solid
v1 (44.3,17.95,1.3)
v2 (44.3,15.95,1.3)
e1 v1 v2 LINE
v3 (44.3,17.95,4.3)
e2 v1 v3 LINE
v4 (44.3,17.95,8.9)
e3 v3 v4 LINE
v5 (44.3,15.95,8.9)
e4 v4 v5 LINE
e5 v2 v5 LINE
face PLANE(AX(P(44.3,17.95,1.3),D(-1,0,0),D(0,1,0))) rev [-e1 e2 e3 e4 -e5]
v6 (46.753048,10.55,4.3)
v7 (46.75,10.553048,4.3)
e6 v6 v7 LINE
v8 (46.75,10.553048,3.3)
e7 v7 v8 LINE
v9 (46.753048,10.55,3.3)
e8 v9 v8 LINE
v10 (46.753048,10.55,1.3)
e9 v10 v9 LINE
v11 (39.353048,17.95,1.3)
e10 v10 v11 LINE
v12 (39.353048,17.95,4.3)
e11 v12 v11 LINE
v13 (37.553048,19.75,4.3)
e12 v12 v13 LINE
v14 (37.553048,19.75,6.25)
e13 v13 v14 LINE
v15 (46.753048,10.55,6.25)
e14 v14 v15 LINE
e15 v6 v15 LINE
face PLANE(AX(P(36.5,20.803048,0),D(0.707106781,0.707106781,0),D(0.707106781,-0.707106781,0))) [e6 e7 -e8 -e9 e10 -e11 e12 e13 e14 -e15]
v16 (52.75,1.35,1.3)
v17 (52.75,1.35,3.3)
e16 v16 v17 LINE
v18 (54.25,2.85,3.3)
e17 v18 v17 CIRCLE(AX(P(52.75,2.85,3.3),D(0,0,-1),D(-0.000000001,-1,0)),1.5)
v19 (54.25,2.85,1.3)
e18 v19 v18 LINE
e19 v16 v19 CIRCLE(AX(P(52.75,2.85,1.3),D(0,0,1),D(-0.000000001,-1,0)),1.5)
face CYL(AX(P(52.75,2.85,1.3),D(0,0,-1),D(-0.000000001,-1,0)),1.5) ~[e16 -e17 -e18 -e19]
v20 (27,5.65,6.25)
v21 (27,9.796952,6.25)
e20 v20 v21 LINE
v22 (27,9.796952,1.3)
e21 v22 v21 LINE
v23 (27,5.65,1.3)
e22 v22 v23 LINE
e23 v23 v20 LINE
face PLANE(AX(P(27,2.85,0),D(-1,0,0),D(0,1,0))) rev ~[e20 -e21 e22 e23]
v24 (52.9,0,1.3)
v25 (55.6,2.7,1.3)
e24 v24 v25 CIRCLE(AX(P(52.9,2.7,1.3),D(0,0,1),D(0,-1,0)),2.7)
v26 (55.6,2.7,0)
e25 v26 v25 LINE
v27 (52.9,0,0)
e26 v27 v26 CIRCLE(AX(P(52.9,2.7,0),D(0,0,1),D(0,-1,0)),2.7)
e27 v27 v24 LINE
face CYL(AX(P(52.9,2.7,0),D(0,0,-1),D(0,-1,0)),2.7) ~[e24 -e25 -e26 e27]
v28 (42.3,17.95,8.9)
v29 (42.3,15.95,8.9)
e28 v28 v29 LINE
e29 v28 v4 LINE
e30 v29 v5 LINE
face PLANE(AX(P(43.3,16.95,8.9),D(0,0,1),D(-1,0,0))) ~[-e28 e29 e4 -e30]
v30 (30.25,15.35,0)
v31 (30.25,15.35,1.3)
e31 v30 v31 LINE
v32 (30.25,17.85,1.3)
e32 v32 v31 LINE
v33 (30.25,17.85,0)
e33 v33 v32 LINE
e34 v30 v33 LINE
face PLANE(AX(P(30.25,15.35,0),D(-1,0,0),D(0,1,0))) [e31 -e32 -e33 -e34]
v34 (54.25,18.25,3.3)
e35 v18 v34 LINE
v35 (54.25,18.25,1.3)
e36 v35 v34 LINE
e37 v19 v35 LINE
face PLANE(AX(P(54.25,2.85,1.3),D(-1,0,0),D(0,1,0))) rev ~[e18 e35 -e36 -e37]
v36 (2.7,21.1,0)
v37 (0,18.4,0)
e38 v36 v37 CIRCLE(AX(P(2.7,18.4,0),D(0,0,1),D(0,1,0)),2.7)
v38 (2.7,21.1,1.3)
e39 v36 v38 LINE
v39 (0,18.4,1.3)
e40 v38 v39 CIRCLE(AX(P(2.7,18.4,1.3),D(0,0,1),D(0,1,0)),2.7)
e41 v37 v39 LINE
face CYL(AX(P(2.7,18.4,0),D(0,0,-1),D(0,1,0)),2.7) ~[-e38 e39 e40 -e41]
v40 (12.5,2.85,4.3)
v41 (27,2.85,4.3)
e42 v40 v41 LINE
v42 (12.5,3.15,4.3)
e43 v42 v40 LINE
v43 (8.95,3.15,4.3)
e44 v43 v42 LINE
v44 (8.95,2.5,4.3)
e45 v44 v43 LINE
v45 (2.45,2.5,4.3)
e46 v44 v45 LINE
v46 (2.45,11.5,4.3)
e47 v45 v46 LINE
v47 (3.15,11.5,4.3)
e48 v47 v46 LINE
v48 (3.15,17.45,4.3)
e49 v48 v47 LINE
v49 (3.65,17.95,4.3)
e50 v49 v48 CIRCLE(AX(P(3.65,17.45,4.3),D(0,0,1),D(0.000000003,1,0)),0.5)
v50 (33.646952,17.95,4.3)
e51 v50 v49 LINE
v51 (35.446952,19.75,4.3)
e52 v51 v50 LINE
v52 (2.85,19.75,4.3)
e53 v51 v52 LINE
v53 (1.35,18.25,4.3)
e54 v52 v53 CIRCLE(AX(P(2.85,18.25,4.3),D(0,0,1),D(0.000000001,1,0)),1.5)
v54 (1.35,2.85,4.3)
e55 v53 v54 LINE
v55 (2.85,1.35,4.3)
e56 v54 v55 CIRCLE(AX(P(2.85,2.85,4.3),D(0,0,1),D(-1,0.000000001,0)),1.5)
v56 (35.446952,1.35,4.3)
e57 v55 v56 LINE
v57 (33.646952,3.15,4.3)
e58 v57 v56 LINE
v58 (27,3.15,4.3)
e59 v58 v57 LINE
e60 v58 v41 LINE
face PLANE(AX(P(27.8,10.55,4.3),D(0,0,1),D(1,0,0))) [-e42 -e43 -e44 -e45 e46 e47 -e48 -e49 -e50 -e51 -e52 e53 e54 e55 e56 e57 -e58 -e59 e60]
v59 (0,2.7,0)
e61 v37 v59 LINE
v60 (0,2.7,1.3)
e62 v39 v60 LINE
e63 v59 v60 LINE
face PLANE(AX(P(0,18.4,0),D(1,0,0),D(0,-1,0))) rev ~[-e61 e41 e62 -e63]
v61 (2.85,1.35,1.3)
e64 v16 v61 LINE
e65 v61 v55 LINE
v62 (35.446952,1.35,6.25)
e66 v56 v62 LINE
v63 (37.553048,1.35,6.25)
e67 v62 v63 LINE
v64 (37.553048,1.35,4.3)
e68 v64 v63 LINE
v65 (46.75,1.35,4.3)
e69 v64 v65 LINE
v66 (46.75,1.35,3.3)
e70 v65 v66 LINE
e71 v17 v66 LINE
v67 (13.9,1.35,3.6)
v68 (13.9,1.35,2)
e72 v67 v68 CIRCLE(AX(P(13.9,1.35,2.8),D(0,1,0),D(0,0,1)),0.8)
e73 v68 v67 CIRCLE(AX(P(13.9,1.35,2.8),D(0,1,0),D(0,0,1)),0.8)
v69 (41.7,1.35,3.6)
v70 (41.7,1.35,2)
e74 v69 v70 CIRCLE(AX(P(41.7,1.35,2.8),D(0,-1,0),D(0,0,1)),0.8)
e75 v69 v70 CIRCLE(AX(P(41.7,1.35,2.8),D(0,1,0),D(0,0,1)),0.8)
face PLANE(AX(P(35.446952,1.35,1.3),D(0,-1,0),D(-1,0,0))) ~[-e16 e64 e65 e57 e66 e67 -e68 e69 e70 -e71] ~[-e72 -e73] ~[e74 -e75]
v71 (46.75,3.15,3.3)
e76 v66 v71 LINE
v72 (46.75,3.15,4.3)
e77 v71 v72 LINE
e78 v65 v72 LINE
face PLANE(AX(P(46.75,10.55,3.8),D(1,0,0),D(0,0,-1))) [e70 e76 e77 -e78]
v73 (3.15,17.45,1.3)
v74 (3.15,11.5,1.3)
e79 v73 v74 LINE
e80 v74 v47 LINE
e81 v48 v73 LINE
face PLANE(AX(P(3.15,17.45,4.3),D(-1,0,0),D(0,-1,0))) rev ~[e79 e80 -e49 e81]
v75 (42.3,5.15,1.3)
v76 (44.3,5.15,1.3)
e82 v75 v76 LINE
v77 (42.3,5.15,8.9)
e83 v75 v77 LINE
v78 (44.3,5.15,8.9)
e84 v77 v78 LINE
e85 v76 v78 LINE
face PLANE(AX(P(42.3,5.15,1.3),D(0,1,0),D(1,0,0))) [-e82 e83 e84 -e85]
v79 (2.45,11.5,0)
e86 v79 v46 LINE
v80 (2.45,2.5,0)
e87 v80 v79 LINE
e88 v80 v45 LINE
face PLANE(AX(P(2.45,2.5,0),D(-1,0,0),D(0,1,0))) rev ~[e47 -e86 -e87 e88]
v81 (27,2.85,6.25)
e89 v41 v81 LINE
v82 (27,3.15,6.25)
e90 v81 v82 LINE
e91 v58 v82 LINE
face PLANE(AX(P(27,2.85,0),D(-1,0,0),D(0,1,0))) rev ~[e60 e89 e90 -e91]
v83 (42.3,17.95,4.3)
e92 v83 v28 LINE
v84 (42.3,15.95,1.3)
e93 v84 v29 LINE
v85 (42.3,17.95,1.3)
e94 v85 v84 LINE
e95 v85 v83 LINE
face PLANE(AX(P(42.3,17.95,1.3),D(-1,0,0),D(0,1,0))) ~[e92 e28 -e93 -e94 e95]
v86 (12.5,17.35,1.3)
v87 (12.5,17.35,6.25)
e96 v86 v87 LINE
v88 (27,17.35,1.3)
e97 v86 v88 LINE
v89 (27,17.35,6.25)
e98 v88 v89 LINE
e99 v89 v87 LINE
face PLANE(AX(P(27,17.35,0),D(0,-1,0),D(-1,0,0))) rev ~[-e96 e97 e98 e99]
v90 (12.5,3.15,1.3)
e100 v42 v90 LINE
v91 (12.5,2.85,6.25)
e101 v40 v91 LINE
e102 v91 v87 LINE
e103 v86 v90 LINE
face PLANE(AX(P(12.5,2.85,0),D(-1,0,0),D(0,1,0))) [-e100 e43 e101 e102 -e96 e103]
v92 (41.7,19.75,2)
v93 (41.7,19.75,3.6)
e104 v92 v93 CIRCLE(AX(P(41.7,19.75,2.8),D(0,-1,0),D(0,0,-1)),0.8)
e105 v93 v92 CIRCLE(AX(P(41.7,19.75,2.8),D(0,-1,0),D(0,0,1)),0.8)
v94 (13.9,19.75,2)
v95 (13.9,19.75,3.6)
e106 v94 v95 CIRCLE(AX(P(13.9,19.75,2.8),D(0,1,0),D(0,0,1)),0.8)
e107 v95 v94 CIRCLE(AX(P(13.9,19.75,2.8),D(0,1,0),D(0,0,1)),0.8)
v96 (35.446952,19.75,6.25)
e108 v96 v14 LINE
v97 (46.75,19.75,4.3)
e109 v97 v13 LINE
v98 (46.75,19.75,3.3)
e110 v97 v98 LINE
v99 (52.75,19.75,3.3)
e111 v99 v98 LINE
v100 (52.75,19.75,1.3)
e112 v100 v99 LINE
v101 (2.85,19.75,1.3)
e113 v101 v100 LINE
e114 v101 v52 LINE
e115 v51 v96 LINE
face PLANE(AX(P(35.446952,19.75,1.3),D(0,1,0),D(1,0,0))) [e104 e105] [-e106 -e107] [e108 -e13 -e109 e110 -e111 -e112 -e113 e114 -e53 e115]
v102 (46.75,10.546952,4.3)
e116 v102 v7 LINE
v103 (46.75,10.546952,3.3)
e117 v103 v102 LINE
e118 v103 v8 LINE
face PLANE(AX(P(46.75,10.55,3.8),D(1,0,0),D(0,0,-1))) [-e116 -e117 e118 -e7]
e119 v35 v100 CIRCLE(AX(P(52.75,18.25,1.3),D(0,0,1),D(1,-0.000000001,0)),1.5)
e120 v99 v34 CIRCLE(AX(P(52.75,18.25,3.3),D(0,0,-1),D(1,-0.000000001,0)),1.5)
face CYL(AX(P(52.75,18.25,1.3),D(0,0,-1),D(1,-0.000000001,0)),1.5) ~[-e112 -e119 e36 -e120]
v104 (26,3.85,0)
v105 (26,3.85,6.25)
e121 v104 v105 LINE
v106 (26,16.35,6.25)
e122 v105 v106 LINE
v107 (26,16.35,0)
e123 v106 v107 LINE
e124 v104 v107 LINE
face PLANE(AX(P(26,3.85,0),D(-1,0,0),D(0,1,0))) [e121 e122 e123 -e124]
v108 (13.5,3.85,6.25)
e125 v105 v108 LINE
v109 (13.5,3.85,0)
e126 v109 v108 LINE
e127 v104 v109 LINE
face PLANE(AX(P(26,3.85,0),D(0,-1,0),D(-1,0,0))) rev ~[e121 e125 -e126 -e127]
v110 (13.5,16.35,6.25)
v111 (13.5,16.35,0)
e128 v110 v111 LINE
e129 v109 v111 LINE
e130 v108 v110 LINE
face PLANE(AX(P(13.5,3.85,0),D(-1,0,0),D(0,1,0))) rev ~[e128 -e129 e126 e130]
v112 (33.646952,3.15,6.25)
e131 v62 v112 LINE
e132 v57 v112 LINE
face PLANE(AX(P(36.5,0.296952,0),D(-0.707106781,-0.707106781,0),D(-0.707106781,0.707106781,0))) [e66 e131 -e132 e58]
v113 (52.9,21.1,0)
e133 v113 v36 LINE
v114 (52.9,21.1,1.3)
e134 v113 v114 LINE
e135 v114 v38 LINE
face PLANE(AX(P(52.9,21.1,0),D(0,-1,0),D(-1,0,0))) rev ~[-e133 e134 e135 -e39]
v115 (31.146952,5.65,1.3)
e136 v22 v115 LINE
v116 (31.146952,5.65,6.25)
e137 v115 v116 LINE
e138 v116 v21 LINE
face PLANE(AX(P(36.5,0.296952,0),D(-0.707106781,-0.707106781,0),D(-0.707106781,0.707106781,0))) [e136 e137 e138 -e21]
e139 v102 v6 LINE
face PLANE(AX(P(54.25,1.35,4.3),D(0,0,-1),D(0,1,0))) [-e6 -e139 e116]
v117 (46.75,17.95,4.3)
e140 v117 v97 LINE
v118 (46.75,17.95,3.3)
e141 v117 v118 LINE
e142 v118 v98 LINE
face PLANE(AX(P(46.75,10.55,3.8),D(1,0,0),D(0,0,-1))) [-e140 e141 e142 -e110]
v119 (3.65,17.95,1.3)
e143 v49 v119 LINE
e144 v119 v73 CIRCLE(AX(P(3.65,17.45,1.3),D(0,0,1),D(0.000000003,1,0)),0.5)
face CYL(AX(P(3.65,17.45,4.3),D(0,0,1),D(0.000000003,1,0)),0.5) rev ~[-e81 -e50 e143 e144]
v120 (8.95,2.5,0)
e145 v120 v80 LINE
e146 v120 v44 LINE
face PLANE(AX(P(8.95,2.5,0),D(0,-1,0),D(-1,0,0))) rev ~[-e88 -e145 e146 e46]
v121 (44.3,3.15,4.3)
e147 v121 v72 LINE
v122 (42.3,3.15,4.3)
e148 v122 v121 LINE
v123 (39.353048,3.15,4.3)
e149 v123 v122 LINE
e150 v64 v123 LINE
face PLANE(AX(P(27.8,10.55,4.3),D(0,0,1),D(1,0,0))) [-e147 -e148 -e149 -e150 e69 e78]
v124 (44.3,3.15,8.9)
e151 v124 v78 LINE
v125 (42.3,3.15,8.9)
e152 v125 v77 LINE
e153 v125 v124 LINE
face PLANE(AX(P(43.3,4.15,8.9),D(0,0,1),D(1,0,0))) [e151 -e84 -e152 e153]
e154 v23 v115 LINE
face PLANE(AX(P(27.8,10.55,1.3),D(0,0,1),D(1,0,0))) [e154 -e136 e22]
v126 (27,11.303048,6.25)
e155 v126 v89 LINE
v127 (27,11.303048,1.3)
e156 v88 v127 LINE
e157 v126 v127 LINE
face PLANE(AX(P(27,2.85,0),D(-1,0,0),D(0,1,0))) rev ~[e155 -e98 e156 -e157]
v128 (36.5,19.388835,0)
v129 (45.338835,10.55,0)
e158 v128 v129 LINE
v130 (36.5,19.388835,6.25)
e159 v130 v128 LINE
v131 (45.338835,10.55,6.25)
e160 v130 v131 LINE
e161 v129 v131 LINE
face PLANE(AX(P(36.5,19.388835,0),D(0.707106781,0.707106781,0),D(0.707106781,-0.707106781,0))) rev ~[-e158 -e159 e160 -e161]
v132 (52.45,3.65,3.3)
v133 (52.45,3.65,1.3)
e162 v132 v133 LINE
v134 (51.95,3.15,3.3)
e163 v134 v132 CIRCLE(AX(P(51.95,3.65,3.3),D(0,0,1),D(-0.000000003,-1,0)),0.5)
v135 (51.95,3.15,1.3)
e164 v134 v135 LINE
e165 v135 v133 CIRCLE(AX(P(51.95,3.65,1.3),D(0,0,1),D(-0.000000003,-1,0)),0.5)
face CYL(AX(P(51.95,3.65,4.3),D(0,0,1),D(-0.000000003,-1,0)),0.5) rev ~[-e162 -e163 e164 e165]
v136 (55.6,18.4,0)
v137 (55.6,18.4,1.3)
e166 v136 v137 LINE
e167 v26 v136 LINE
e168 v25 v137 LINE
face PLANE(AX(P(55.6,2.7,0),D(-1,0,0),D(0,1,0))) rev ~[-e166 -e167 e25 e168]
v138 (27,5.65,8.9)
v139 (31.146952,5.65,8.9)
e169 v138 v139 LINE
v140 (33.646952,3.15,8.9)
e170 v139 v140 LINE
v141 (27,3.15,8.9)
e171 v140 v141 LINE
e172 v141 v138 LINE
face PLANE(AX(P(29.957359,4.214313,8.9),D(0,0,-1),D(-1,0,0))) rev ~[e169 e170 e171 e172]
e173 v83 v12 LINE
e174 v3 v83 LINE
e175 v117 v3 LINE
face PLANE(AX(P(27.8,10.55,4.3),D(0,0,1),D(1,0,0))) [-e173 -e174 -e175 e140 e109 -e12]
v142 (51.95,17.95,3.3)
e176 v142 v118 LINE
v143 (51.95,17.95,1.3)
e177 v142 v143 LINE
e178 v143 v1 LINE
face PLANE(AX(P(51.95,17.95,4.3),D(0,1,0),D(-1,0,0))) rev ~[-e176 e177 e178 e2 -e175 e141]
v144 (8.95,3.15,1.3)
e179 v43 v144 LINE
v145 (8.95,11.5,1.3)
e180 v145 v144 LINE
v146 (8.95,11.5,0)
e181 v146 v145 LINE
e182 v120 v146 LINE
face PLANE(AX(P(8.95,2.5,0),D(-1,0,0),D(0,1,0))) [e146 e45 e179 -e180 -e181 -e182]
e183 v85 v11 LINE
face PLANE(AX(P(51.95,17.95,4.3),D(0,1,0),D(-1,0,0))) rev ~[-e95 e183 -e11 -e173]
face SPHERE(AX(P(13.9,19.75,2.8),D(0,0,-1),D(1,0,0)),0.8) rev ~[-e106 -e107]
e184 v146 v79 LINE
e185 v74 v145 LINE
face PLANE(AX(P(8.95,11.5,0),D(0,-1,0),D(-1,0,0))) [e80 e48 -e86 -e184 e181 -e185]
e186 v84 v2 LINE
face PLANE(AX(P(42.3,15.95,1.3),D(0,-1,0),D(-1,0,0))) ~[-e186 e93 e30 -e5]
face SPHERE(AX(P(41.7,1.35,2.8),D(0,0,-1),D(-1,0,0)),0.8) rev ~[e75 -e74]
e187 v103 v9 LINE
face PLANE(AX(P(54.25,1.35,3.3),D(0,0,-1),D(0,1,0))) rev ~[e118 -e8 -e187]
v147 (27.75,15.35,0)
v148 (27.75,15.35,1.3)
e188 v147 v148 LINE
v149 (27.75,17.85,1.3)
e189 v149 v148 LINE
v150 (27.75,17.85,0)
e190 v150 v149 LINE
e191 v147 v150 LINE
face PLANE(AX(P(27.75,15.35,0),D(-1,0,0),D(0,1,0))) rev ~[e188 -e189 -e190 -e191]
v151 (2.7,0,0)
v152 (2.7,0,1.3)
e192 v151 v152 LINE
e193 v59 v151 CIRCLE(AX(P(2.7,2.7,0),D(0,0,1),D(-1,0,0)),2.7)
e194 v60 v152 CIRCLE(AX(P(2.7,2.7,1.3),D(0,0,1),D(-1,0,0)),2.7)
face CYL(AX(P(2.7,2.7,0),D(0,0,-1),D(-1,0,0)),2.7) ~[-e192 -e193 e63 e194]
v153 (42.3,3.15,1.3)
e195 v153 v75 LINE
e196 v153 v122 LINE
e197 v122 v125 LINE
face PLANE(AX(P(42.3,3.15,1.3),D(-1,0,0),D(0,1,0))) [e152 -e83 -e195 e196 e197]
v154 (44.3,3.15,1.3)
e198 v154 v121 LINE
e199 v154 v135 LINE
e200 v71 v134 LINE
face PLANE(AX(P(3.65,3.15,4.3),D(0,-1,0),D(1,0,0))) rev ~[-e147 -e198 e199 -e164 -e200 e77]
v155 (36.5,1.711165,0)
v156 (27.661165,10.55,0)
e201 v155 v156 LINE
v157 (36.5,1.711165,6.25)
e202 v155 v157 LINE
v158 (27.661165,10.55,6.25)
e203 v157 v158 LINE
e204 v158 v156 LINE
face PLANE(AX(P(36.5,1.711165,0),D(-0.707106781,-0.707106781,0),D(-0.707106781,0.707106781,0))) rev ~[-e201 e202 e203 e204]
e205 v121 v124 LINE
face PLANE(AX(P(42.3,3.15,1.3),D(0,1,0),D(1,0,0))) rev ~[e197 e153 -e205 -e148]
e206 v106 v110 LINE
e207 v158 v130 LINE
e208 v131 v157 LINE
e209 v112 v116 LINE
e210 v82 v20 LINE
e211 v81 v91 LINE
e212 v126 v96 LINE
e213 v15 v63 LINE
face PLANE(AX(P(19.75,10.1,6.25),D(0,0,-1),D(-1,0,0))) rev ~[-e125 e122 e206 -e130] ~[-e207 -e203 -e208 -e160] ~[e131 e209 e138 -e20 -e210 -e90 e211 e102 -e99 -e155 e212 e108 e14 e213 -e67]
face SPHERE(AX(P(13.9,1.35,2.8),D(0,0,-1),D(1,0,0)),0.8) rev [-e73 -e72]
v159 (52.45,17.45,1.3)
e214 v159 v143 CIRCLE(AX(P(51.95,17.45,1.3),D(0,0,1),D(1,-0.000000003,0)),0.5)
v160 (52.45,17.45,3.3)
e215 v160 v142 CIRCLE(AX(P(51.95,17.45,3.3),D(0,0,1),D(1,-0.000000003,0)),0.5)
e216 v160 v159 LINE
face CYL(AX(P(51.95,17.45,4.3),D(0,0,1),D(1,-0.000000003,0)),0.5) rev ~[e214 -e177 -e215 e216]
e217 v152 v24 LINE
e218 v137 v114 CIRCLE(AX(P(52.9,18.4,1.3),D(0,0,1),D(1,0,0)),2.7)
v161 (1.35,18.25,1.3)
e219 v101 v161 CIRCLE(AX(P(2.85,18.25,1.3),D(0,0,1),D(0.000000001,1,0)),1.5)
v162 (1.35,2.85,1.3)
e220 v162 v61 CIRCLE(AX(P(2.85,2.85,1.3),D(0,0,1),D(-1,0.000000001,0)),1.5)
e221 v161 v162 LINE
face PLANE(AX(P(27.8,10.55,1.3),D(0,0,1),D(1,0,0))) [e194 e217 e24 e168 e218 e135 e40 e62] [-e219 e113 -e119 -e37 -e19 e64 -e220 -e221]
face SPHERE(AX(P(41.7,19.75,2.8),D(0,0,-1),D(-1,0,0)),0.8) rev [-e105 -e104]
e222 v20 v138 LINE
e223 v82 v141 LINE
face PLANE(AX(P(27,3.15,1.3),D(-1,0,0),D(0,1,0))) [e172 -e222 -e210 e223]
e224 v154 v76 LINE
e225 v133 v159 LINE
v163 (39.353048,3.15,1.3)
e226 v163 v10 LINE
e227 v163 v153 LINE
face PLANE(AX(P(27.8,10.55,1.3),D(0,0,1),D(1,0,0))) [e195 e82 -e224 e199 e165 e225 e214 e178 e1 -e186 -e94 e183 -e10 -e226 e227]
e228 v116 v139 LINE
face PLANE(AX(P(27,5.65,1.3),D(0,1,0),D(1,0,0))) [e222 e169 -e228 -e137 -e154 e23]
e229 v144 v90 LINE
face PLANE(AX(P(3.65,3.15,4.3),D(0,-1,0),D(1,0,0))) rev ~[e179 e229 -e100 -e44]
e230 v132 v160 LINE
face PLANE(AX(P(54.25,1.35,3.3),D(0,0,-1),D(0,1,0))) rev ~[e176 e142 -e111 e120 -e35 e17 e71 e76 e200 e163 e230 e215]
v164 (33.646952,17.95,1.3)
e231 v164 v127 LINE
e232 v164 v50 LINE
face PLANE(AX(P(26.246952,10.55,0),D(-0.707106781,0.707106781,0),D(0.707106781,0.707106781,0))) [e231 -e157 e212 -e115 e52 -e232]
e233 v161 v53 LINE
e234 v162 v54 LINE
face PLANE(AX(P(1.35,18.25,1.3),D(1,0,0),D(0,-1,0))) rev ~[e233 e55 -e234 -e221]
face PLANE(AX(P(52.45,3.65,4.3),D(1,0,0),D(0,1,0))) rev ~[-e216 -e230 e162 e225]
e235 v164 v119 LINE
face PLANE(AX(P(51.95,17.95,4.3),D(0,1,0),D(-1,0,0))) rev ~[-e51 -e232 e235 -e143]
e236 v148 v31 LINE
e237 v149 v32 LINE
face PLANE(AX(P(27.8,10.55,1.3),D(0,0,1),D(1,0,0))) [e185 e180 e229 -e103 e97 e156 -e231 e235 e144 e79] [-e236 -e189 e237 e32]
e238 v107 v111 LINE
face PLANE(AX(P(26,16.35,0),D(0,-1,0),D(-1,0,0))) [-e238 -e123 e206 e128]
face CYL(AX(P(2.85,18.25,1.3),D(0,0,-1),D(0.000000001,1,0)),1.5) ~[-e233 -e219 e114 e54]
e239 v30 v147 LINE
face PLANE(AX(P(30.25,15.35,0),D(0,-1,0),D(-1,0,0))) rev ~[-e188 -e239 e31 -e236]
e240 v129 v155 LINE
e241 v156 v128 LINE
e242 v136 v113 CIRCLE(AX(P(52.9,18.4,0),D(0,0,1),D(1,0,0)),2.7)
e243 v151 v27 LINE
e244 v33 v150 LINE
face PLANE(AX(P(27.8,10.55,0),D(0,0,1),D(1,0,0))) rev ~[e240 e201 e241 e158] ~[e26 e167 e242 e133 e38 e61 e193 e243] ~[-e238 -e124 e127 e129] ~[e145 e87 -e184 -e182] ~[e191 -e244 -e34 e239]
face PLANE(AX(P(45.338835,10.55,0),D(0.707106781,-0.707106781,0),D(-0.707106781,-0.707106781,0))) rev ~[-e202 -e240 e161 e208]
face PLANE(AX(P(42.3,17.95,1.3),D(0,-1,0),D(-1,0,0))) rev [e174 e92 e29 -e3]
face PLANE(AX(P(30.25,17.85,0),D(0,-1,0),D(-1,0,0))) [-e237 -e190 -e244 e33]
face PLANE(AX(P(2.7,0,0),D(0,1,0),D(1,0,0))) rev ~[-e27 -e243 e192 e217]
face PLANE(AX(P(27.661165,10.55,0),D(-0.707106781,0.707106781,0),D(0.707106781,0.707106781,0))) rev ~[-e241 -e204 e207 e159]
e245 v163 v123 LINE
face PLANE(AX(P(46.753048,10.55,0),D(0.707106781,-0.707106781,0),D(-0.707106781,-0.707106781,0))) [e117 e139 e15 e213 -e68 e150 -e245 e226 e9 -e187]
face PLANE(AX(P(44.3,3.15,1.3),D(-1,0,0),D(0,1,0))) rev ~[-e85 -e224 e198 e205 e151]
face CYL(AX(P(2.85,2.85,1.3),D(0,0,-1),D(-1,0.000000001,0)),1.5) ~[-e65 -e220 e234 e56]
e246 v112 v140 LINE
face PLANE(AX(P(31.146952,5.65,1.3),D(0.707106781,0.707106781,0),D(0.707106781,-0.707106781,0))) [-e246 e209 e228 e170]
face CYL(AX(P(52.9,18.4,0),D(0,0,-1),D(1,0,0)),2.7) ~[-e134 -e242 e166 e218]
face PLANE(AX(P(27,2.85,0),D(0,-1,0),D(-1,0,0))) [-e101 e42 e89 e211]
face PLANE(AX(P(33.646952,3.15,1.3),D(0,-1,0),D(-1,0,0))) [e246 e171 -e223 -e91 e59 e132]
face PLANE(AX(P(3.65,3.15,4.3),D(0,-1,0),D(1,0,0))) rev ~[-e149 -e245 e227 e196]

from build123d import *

# Parameters (mm, degrees)
BOSS_EXTRUDE1_DEPTH = 1.3
BOSS_EXTRUDE3_DEPTH = 3
CUT_EXTRUDE1_DEPTH  = 3
SKETCH11_W          = 6.5
SKETCH11_H          = 9
CUT_EXTRUDE2_DEPTH  = 4.3
SKETCH12_W          = 12.5
SKETCH12_H          = 12.5
CUT_EXTRUDE4_DEPTH  = 1.3
SKETCH17_W          = 14.5
SKETCH17_H          = 14.5
SKETCH17_W_2        = 12.5
SKETCH17_H_2        = 12.5
BOSS_EXTRUDE4_DEPTH = 6.25
CUT_EXTRUDE5_DEPTH  = 4.3
BOSS_EXTRUDE5_DEPTH = 6.25
CUT_EXTRUDE6_START  = -3
CUT_EXTRUDE6_DEPTH  = 23
SKETCH21_W          = 2.5
SKETCH21_H          = 2.5
CUT_EXTRUDE7_DEPTH  = 10
BOSS_EXTRUDE7_DEPTH = 7.6
SKETCH25_W          = 2
SKETCH25_H          = 2
BOSS_EXTRUDE8_DEPTH = 7.6
SKETCH27_W          = 1
SKETCH27_H          = 18.4
CUT_EXTRUDE8_DEPTH  = 7.5


with BuildPart() as part:
    # Sketch1 → Boss-Extrude1 (new body)
    with BuildSketch(Plane.XY):
        with BuildLine():
            Line((2.7, 0), (52.9, 0))
            ThreePointArc((52.9, 0), (54.809188309, 0.790811691), (55.6, 2.7))
            Line((55.6, 2.7), (55.6, 18.4))
            ThreePointArc((55.6, 18.4), (54.809188309, 20.309188309), (52.9, 21.1))
            Line((52.9, 21.1), (2.7, 21.1))
            ThreePointArc((2.7, 21.1), (0.790811691, 20.309188309), (0, 18.4))
            Line((0, 18.4), (0, 2.7))
            ThreePointArc((0, 2.7), (0.790811691, 0.790811691), (2.7, 0))
        make_face()
    extrude(amount=BOSS_EXTRUDE1_DEPTH)

    # Sketch4 → Boss-Extrude3 (add)
    with BuildSketch(Plane.XY.offset(1.3)):
        with BuildLine():
            Line((54.25, 2.85), (54.25, 18.25))
            ThreePointArc((54.25, 18.25), (53.810660172, 19.310660172), (52.75, 19.75))
            Line((52.75, 19.75), (2.85, 19.75))
            ThreePointArc((2.85, 19.75), (1.789339828, 19.310660172), (1.35, 18.25))
            Line((1.35, 18.25), (1.35, 2.85))
            ThreePointArc((1.35, 2.85), (1.789339828, 1.789339828), (2.85, 1.35))
            Line((2.85, 1.35), (52.75, 1.35))
            ThreePointArc((52.75, 1.35), (53.810660172, 1.789339828), (54.25, 2.85))
        make_face()
    extrude(amount=BOSS_EXTRUDE3_DEPTH)

    # Sketch5 → Cut-Extrude1 (cut)
    with BuildSketch(Plane.XY.offset(4.3)):
        with BuildLine():
            Line((51.95, 17.95), (3.65, 17.95))
            ThreePointArc((3.65, 17.95), (3.296446609, 17.803553391), (3.15, 17.45))
            Line((3.15, 17.45), (3.15, 3.65))
            ThreePointArc((3.15, 3.65), (3.296446609, 3.296446609), (3.65, 3.15))
            Line((3.65, 3.15), (51.95, 3.15))
            ThreePointArc((51.95, 3.15), (52.303553391, 3.296446609), (52.45, 3.65))
            Line((52.45, 3.65), (52.45, 17.45))
            ThreePointArc((52.45, 17.45), (52.303553391, 17.803553391), (51.95, 17.95))
        make_face()
    extrude(amount=-CUT_EXTRUDE1_DEPTH, mode=Mode.SUBTRACT)

    # Sketch10 → Cut-Revolve1 (revolve, cut)
    with BuildSketch(Plane(origin=(0, 19.75, 0), x_dir=(1, 0, 0), z_dir=(0, 1, 0))):
        with BuildLine():
            Line((41.7, -2), (41.7, -3.6))
            ThreePointArc((41.7, -3.6), (40.9, -2.8), (41.7, -2))
        make_face()
    cut_revolve1 = revolve(axis=Axis((41.7, 19.75, 2), (0, 0, 1)), mode=Mode.SUBTRACT)

    # Mirror1: Cut-Revolve1 across plane
    add(cut_revolve1.mirror(Plane(origin=(0, 10.55, 0), x_dir=(0, 0, 1), z_dir=(0, -1, 0))), mode=Mode.SUBTRACT)

    # Sketch11 → Cut-Extrude2 (cut)
    with BuildSketch(Plane(origin=(0, 0, 0), x_dir=(-1, 0, 0), z_dir=(0, 0, -1))):
        with Locations((-5.7, 7)):
            Rectangle(SKETCH11_W, SKETCH11_H)
    extrude(amount=-CUT_EXTRUDE2_DEPTH, mode=Mode.SUBTRACT)

    # Sketch12 → Cut-Extrude4 (cut)
    with BuildSketch(Plane(origin=(0, 0, 0), x_dir=(-1, 0, 0), z_dir=(0, 0, -1))):
        with Locations((-19.75, 10.1)):
            Rectangle(SKETCH12_W, SKETCH12_H)
    extrude(amount=-CUT_EXTRUDE4_DEPTH, mode=Mode.SUBTRACT)

    # Sketch17 → Boss-Extrude4 (add)
    with BuildSketch(Plane(origin=(0, 0, 0), x_dir=(-1, 0, 0), z_dir=(0, 0, -1))):
        with Locations((-19.75, 10.1)):
            Rectangle(SKETCH17_W, SKETCH17_H)
        with Locations((-19.75, 10.1)):
            Rectangle(SKETCH17_W_2, SKETCH17_H_2, mode=Mode.SUBTRACT)
    extrude(amount=-BOSS_EXTRUDE4_DEPTH)

    # Sketch13 → Cut-Extrude5 (cut)
    with BuildSketch(Plane(origin=(0, 0, 0), x_dir=(-1, 0, 0), z_dir=(0, 0, -1))):
        Polygon((-45.338834765, 10.55), (-36.5, 1.711165235), (-27.661165235, 10.55), (-36.5, 19.388834765), align=None)
    extrude(amount=-CUT_EXTRUDE5_DEPTH, mode=Mode.SUBTRACT)

    # Sketch18 → Boss-Extrude5 (add)
    with BuildSketch(Plane(origin=(0, 0, 0), x_dir=(-1, 0, 0), z_dir=(0, 0, -1))):
        Polygon((-46.753048327, 10.55), (-36.5, 0.296951673), (-26.246951673, 10.55), (-36.5, 20.803048327), align=None)
        Polygon((-36.5, 19.388834765), (-45.338834765, 10.55), (-36.5, 1.711165235), (-27.661165235, 10.55), align=None, mode=Mode.SUBTRACT)
    extrude(amount=-BOSS_EXTRUDE5_DEPTH)

    # Sketch20 → Cut-Extrude6 (cut)
    with BuildSketch(Plane.XY.offset(4.3).offset(CUT_EXTRUDE6_START)):
        Polygon((35.446951673, 19.75), (37.553048327, 19.75), (36.5, 20.803048327), align=None)
    cut_extrude6 = extrude(amount=CUT_EXTRUDE6_DEPTH, mode=Mode.SUBTRACT)

    # Mirror2: Cut-Extrude6 across plane
    add(cut_extrude6.mirror(Plane(origin=(0, 10.55, 0), x_dir=(0, 0, 1), z_dir=(0, -1, 0))), mode=Mode.SUBTRACT)

    # Sketch21 → Cut-Extrude7 (cut)
    with BuildSketch(Plane(origin=(0, 0, 0), x_dir=(-1, 0, 0), z_dir=(0, 0, -1))):
        with Locations((-29, 16.6)):
            Rectangle(SKETCH21_W, SKETCH21_H)
    extrude(amount=-CUT_EXTRUDE7_DEPTH, mode=Mode.SUBTRACT)

    # Mirror3: Cut-Revolve1 across plane
    add(cut_revolve1.mirror(Plane.ZY.offset(-27.8)), mode=Mode.SUBTRACT)

    # Mirror3 copy 1 sketch → Mirror3 copy 1 (revolve, cut)
    with BuildSketch(Plane(origin=(55.6, 1.35, 0), x_dir=(-1, 0, 0), z_dir=(0, -1, 0))):
        with BuildLine():
            Line((41.7, -2), (41.7, -3.6))
            ThreePointArc((41.7, -3.6), (40.9, -2.8), (41.7, -2))
        make_face()
    revolve(axis=Axis((13.9, 1.35, 2), (0, 0, 1)), mode=Mode.SUBTRACT)

    # Sketch24 → Boss-Extrude7 (add)
    with BuildSketch(Plane.XY.offset(1.3)):
        Polygon((33.646951673, 3.15), (27, 3.15), (27, 5.65), (31.146951673, 5.65), align=None)
    extrude(amount=BOSS_EXTRUDE7_DEPTH)

    # Sketch25 → Boss-Extrude8 (add)
    with BuildSketch(Plane.XY.offset(1.3)):
        with Locations((43.3, 4.15)):
            Rectangle(SKETCH25_W, SKETCH25_H)
    boss_extrude8 = extrude(amount=BOSS_EXTRUDE8_DEPTH)

    # Mirror4: Boss-Extrude8 across plane
    add(boss_extrude8.mirror(Plane(origin=(0, 10.55, 0), x_dir=(0, 0, 1), z_dir=(0, -1, 0))))

    # Sketch27 → Cut-Extrude8 (cut)
    with BuildSketch(Plane(origin=(54.25, 0, 0), x_dir=(0, 0, -1), z_dir=(1, 0, 0))):
        with Locations((-3.8, 10.55)):
            Rectangle(SKETCH27_W, SKETCH27_H)
    extrude(amount=-CUT_EXTRUDE8_DEPTH, mode=Mode.SUBTRACT)


solid = part.part
